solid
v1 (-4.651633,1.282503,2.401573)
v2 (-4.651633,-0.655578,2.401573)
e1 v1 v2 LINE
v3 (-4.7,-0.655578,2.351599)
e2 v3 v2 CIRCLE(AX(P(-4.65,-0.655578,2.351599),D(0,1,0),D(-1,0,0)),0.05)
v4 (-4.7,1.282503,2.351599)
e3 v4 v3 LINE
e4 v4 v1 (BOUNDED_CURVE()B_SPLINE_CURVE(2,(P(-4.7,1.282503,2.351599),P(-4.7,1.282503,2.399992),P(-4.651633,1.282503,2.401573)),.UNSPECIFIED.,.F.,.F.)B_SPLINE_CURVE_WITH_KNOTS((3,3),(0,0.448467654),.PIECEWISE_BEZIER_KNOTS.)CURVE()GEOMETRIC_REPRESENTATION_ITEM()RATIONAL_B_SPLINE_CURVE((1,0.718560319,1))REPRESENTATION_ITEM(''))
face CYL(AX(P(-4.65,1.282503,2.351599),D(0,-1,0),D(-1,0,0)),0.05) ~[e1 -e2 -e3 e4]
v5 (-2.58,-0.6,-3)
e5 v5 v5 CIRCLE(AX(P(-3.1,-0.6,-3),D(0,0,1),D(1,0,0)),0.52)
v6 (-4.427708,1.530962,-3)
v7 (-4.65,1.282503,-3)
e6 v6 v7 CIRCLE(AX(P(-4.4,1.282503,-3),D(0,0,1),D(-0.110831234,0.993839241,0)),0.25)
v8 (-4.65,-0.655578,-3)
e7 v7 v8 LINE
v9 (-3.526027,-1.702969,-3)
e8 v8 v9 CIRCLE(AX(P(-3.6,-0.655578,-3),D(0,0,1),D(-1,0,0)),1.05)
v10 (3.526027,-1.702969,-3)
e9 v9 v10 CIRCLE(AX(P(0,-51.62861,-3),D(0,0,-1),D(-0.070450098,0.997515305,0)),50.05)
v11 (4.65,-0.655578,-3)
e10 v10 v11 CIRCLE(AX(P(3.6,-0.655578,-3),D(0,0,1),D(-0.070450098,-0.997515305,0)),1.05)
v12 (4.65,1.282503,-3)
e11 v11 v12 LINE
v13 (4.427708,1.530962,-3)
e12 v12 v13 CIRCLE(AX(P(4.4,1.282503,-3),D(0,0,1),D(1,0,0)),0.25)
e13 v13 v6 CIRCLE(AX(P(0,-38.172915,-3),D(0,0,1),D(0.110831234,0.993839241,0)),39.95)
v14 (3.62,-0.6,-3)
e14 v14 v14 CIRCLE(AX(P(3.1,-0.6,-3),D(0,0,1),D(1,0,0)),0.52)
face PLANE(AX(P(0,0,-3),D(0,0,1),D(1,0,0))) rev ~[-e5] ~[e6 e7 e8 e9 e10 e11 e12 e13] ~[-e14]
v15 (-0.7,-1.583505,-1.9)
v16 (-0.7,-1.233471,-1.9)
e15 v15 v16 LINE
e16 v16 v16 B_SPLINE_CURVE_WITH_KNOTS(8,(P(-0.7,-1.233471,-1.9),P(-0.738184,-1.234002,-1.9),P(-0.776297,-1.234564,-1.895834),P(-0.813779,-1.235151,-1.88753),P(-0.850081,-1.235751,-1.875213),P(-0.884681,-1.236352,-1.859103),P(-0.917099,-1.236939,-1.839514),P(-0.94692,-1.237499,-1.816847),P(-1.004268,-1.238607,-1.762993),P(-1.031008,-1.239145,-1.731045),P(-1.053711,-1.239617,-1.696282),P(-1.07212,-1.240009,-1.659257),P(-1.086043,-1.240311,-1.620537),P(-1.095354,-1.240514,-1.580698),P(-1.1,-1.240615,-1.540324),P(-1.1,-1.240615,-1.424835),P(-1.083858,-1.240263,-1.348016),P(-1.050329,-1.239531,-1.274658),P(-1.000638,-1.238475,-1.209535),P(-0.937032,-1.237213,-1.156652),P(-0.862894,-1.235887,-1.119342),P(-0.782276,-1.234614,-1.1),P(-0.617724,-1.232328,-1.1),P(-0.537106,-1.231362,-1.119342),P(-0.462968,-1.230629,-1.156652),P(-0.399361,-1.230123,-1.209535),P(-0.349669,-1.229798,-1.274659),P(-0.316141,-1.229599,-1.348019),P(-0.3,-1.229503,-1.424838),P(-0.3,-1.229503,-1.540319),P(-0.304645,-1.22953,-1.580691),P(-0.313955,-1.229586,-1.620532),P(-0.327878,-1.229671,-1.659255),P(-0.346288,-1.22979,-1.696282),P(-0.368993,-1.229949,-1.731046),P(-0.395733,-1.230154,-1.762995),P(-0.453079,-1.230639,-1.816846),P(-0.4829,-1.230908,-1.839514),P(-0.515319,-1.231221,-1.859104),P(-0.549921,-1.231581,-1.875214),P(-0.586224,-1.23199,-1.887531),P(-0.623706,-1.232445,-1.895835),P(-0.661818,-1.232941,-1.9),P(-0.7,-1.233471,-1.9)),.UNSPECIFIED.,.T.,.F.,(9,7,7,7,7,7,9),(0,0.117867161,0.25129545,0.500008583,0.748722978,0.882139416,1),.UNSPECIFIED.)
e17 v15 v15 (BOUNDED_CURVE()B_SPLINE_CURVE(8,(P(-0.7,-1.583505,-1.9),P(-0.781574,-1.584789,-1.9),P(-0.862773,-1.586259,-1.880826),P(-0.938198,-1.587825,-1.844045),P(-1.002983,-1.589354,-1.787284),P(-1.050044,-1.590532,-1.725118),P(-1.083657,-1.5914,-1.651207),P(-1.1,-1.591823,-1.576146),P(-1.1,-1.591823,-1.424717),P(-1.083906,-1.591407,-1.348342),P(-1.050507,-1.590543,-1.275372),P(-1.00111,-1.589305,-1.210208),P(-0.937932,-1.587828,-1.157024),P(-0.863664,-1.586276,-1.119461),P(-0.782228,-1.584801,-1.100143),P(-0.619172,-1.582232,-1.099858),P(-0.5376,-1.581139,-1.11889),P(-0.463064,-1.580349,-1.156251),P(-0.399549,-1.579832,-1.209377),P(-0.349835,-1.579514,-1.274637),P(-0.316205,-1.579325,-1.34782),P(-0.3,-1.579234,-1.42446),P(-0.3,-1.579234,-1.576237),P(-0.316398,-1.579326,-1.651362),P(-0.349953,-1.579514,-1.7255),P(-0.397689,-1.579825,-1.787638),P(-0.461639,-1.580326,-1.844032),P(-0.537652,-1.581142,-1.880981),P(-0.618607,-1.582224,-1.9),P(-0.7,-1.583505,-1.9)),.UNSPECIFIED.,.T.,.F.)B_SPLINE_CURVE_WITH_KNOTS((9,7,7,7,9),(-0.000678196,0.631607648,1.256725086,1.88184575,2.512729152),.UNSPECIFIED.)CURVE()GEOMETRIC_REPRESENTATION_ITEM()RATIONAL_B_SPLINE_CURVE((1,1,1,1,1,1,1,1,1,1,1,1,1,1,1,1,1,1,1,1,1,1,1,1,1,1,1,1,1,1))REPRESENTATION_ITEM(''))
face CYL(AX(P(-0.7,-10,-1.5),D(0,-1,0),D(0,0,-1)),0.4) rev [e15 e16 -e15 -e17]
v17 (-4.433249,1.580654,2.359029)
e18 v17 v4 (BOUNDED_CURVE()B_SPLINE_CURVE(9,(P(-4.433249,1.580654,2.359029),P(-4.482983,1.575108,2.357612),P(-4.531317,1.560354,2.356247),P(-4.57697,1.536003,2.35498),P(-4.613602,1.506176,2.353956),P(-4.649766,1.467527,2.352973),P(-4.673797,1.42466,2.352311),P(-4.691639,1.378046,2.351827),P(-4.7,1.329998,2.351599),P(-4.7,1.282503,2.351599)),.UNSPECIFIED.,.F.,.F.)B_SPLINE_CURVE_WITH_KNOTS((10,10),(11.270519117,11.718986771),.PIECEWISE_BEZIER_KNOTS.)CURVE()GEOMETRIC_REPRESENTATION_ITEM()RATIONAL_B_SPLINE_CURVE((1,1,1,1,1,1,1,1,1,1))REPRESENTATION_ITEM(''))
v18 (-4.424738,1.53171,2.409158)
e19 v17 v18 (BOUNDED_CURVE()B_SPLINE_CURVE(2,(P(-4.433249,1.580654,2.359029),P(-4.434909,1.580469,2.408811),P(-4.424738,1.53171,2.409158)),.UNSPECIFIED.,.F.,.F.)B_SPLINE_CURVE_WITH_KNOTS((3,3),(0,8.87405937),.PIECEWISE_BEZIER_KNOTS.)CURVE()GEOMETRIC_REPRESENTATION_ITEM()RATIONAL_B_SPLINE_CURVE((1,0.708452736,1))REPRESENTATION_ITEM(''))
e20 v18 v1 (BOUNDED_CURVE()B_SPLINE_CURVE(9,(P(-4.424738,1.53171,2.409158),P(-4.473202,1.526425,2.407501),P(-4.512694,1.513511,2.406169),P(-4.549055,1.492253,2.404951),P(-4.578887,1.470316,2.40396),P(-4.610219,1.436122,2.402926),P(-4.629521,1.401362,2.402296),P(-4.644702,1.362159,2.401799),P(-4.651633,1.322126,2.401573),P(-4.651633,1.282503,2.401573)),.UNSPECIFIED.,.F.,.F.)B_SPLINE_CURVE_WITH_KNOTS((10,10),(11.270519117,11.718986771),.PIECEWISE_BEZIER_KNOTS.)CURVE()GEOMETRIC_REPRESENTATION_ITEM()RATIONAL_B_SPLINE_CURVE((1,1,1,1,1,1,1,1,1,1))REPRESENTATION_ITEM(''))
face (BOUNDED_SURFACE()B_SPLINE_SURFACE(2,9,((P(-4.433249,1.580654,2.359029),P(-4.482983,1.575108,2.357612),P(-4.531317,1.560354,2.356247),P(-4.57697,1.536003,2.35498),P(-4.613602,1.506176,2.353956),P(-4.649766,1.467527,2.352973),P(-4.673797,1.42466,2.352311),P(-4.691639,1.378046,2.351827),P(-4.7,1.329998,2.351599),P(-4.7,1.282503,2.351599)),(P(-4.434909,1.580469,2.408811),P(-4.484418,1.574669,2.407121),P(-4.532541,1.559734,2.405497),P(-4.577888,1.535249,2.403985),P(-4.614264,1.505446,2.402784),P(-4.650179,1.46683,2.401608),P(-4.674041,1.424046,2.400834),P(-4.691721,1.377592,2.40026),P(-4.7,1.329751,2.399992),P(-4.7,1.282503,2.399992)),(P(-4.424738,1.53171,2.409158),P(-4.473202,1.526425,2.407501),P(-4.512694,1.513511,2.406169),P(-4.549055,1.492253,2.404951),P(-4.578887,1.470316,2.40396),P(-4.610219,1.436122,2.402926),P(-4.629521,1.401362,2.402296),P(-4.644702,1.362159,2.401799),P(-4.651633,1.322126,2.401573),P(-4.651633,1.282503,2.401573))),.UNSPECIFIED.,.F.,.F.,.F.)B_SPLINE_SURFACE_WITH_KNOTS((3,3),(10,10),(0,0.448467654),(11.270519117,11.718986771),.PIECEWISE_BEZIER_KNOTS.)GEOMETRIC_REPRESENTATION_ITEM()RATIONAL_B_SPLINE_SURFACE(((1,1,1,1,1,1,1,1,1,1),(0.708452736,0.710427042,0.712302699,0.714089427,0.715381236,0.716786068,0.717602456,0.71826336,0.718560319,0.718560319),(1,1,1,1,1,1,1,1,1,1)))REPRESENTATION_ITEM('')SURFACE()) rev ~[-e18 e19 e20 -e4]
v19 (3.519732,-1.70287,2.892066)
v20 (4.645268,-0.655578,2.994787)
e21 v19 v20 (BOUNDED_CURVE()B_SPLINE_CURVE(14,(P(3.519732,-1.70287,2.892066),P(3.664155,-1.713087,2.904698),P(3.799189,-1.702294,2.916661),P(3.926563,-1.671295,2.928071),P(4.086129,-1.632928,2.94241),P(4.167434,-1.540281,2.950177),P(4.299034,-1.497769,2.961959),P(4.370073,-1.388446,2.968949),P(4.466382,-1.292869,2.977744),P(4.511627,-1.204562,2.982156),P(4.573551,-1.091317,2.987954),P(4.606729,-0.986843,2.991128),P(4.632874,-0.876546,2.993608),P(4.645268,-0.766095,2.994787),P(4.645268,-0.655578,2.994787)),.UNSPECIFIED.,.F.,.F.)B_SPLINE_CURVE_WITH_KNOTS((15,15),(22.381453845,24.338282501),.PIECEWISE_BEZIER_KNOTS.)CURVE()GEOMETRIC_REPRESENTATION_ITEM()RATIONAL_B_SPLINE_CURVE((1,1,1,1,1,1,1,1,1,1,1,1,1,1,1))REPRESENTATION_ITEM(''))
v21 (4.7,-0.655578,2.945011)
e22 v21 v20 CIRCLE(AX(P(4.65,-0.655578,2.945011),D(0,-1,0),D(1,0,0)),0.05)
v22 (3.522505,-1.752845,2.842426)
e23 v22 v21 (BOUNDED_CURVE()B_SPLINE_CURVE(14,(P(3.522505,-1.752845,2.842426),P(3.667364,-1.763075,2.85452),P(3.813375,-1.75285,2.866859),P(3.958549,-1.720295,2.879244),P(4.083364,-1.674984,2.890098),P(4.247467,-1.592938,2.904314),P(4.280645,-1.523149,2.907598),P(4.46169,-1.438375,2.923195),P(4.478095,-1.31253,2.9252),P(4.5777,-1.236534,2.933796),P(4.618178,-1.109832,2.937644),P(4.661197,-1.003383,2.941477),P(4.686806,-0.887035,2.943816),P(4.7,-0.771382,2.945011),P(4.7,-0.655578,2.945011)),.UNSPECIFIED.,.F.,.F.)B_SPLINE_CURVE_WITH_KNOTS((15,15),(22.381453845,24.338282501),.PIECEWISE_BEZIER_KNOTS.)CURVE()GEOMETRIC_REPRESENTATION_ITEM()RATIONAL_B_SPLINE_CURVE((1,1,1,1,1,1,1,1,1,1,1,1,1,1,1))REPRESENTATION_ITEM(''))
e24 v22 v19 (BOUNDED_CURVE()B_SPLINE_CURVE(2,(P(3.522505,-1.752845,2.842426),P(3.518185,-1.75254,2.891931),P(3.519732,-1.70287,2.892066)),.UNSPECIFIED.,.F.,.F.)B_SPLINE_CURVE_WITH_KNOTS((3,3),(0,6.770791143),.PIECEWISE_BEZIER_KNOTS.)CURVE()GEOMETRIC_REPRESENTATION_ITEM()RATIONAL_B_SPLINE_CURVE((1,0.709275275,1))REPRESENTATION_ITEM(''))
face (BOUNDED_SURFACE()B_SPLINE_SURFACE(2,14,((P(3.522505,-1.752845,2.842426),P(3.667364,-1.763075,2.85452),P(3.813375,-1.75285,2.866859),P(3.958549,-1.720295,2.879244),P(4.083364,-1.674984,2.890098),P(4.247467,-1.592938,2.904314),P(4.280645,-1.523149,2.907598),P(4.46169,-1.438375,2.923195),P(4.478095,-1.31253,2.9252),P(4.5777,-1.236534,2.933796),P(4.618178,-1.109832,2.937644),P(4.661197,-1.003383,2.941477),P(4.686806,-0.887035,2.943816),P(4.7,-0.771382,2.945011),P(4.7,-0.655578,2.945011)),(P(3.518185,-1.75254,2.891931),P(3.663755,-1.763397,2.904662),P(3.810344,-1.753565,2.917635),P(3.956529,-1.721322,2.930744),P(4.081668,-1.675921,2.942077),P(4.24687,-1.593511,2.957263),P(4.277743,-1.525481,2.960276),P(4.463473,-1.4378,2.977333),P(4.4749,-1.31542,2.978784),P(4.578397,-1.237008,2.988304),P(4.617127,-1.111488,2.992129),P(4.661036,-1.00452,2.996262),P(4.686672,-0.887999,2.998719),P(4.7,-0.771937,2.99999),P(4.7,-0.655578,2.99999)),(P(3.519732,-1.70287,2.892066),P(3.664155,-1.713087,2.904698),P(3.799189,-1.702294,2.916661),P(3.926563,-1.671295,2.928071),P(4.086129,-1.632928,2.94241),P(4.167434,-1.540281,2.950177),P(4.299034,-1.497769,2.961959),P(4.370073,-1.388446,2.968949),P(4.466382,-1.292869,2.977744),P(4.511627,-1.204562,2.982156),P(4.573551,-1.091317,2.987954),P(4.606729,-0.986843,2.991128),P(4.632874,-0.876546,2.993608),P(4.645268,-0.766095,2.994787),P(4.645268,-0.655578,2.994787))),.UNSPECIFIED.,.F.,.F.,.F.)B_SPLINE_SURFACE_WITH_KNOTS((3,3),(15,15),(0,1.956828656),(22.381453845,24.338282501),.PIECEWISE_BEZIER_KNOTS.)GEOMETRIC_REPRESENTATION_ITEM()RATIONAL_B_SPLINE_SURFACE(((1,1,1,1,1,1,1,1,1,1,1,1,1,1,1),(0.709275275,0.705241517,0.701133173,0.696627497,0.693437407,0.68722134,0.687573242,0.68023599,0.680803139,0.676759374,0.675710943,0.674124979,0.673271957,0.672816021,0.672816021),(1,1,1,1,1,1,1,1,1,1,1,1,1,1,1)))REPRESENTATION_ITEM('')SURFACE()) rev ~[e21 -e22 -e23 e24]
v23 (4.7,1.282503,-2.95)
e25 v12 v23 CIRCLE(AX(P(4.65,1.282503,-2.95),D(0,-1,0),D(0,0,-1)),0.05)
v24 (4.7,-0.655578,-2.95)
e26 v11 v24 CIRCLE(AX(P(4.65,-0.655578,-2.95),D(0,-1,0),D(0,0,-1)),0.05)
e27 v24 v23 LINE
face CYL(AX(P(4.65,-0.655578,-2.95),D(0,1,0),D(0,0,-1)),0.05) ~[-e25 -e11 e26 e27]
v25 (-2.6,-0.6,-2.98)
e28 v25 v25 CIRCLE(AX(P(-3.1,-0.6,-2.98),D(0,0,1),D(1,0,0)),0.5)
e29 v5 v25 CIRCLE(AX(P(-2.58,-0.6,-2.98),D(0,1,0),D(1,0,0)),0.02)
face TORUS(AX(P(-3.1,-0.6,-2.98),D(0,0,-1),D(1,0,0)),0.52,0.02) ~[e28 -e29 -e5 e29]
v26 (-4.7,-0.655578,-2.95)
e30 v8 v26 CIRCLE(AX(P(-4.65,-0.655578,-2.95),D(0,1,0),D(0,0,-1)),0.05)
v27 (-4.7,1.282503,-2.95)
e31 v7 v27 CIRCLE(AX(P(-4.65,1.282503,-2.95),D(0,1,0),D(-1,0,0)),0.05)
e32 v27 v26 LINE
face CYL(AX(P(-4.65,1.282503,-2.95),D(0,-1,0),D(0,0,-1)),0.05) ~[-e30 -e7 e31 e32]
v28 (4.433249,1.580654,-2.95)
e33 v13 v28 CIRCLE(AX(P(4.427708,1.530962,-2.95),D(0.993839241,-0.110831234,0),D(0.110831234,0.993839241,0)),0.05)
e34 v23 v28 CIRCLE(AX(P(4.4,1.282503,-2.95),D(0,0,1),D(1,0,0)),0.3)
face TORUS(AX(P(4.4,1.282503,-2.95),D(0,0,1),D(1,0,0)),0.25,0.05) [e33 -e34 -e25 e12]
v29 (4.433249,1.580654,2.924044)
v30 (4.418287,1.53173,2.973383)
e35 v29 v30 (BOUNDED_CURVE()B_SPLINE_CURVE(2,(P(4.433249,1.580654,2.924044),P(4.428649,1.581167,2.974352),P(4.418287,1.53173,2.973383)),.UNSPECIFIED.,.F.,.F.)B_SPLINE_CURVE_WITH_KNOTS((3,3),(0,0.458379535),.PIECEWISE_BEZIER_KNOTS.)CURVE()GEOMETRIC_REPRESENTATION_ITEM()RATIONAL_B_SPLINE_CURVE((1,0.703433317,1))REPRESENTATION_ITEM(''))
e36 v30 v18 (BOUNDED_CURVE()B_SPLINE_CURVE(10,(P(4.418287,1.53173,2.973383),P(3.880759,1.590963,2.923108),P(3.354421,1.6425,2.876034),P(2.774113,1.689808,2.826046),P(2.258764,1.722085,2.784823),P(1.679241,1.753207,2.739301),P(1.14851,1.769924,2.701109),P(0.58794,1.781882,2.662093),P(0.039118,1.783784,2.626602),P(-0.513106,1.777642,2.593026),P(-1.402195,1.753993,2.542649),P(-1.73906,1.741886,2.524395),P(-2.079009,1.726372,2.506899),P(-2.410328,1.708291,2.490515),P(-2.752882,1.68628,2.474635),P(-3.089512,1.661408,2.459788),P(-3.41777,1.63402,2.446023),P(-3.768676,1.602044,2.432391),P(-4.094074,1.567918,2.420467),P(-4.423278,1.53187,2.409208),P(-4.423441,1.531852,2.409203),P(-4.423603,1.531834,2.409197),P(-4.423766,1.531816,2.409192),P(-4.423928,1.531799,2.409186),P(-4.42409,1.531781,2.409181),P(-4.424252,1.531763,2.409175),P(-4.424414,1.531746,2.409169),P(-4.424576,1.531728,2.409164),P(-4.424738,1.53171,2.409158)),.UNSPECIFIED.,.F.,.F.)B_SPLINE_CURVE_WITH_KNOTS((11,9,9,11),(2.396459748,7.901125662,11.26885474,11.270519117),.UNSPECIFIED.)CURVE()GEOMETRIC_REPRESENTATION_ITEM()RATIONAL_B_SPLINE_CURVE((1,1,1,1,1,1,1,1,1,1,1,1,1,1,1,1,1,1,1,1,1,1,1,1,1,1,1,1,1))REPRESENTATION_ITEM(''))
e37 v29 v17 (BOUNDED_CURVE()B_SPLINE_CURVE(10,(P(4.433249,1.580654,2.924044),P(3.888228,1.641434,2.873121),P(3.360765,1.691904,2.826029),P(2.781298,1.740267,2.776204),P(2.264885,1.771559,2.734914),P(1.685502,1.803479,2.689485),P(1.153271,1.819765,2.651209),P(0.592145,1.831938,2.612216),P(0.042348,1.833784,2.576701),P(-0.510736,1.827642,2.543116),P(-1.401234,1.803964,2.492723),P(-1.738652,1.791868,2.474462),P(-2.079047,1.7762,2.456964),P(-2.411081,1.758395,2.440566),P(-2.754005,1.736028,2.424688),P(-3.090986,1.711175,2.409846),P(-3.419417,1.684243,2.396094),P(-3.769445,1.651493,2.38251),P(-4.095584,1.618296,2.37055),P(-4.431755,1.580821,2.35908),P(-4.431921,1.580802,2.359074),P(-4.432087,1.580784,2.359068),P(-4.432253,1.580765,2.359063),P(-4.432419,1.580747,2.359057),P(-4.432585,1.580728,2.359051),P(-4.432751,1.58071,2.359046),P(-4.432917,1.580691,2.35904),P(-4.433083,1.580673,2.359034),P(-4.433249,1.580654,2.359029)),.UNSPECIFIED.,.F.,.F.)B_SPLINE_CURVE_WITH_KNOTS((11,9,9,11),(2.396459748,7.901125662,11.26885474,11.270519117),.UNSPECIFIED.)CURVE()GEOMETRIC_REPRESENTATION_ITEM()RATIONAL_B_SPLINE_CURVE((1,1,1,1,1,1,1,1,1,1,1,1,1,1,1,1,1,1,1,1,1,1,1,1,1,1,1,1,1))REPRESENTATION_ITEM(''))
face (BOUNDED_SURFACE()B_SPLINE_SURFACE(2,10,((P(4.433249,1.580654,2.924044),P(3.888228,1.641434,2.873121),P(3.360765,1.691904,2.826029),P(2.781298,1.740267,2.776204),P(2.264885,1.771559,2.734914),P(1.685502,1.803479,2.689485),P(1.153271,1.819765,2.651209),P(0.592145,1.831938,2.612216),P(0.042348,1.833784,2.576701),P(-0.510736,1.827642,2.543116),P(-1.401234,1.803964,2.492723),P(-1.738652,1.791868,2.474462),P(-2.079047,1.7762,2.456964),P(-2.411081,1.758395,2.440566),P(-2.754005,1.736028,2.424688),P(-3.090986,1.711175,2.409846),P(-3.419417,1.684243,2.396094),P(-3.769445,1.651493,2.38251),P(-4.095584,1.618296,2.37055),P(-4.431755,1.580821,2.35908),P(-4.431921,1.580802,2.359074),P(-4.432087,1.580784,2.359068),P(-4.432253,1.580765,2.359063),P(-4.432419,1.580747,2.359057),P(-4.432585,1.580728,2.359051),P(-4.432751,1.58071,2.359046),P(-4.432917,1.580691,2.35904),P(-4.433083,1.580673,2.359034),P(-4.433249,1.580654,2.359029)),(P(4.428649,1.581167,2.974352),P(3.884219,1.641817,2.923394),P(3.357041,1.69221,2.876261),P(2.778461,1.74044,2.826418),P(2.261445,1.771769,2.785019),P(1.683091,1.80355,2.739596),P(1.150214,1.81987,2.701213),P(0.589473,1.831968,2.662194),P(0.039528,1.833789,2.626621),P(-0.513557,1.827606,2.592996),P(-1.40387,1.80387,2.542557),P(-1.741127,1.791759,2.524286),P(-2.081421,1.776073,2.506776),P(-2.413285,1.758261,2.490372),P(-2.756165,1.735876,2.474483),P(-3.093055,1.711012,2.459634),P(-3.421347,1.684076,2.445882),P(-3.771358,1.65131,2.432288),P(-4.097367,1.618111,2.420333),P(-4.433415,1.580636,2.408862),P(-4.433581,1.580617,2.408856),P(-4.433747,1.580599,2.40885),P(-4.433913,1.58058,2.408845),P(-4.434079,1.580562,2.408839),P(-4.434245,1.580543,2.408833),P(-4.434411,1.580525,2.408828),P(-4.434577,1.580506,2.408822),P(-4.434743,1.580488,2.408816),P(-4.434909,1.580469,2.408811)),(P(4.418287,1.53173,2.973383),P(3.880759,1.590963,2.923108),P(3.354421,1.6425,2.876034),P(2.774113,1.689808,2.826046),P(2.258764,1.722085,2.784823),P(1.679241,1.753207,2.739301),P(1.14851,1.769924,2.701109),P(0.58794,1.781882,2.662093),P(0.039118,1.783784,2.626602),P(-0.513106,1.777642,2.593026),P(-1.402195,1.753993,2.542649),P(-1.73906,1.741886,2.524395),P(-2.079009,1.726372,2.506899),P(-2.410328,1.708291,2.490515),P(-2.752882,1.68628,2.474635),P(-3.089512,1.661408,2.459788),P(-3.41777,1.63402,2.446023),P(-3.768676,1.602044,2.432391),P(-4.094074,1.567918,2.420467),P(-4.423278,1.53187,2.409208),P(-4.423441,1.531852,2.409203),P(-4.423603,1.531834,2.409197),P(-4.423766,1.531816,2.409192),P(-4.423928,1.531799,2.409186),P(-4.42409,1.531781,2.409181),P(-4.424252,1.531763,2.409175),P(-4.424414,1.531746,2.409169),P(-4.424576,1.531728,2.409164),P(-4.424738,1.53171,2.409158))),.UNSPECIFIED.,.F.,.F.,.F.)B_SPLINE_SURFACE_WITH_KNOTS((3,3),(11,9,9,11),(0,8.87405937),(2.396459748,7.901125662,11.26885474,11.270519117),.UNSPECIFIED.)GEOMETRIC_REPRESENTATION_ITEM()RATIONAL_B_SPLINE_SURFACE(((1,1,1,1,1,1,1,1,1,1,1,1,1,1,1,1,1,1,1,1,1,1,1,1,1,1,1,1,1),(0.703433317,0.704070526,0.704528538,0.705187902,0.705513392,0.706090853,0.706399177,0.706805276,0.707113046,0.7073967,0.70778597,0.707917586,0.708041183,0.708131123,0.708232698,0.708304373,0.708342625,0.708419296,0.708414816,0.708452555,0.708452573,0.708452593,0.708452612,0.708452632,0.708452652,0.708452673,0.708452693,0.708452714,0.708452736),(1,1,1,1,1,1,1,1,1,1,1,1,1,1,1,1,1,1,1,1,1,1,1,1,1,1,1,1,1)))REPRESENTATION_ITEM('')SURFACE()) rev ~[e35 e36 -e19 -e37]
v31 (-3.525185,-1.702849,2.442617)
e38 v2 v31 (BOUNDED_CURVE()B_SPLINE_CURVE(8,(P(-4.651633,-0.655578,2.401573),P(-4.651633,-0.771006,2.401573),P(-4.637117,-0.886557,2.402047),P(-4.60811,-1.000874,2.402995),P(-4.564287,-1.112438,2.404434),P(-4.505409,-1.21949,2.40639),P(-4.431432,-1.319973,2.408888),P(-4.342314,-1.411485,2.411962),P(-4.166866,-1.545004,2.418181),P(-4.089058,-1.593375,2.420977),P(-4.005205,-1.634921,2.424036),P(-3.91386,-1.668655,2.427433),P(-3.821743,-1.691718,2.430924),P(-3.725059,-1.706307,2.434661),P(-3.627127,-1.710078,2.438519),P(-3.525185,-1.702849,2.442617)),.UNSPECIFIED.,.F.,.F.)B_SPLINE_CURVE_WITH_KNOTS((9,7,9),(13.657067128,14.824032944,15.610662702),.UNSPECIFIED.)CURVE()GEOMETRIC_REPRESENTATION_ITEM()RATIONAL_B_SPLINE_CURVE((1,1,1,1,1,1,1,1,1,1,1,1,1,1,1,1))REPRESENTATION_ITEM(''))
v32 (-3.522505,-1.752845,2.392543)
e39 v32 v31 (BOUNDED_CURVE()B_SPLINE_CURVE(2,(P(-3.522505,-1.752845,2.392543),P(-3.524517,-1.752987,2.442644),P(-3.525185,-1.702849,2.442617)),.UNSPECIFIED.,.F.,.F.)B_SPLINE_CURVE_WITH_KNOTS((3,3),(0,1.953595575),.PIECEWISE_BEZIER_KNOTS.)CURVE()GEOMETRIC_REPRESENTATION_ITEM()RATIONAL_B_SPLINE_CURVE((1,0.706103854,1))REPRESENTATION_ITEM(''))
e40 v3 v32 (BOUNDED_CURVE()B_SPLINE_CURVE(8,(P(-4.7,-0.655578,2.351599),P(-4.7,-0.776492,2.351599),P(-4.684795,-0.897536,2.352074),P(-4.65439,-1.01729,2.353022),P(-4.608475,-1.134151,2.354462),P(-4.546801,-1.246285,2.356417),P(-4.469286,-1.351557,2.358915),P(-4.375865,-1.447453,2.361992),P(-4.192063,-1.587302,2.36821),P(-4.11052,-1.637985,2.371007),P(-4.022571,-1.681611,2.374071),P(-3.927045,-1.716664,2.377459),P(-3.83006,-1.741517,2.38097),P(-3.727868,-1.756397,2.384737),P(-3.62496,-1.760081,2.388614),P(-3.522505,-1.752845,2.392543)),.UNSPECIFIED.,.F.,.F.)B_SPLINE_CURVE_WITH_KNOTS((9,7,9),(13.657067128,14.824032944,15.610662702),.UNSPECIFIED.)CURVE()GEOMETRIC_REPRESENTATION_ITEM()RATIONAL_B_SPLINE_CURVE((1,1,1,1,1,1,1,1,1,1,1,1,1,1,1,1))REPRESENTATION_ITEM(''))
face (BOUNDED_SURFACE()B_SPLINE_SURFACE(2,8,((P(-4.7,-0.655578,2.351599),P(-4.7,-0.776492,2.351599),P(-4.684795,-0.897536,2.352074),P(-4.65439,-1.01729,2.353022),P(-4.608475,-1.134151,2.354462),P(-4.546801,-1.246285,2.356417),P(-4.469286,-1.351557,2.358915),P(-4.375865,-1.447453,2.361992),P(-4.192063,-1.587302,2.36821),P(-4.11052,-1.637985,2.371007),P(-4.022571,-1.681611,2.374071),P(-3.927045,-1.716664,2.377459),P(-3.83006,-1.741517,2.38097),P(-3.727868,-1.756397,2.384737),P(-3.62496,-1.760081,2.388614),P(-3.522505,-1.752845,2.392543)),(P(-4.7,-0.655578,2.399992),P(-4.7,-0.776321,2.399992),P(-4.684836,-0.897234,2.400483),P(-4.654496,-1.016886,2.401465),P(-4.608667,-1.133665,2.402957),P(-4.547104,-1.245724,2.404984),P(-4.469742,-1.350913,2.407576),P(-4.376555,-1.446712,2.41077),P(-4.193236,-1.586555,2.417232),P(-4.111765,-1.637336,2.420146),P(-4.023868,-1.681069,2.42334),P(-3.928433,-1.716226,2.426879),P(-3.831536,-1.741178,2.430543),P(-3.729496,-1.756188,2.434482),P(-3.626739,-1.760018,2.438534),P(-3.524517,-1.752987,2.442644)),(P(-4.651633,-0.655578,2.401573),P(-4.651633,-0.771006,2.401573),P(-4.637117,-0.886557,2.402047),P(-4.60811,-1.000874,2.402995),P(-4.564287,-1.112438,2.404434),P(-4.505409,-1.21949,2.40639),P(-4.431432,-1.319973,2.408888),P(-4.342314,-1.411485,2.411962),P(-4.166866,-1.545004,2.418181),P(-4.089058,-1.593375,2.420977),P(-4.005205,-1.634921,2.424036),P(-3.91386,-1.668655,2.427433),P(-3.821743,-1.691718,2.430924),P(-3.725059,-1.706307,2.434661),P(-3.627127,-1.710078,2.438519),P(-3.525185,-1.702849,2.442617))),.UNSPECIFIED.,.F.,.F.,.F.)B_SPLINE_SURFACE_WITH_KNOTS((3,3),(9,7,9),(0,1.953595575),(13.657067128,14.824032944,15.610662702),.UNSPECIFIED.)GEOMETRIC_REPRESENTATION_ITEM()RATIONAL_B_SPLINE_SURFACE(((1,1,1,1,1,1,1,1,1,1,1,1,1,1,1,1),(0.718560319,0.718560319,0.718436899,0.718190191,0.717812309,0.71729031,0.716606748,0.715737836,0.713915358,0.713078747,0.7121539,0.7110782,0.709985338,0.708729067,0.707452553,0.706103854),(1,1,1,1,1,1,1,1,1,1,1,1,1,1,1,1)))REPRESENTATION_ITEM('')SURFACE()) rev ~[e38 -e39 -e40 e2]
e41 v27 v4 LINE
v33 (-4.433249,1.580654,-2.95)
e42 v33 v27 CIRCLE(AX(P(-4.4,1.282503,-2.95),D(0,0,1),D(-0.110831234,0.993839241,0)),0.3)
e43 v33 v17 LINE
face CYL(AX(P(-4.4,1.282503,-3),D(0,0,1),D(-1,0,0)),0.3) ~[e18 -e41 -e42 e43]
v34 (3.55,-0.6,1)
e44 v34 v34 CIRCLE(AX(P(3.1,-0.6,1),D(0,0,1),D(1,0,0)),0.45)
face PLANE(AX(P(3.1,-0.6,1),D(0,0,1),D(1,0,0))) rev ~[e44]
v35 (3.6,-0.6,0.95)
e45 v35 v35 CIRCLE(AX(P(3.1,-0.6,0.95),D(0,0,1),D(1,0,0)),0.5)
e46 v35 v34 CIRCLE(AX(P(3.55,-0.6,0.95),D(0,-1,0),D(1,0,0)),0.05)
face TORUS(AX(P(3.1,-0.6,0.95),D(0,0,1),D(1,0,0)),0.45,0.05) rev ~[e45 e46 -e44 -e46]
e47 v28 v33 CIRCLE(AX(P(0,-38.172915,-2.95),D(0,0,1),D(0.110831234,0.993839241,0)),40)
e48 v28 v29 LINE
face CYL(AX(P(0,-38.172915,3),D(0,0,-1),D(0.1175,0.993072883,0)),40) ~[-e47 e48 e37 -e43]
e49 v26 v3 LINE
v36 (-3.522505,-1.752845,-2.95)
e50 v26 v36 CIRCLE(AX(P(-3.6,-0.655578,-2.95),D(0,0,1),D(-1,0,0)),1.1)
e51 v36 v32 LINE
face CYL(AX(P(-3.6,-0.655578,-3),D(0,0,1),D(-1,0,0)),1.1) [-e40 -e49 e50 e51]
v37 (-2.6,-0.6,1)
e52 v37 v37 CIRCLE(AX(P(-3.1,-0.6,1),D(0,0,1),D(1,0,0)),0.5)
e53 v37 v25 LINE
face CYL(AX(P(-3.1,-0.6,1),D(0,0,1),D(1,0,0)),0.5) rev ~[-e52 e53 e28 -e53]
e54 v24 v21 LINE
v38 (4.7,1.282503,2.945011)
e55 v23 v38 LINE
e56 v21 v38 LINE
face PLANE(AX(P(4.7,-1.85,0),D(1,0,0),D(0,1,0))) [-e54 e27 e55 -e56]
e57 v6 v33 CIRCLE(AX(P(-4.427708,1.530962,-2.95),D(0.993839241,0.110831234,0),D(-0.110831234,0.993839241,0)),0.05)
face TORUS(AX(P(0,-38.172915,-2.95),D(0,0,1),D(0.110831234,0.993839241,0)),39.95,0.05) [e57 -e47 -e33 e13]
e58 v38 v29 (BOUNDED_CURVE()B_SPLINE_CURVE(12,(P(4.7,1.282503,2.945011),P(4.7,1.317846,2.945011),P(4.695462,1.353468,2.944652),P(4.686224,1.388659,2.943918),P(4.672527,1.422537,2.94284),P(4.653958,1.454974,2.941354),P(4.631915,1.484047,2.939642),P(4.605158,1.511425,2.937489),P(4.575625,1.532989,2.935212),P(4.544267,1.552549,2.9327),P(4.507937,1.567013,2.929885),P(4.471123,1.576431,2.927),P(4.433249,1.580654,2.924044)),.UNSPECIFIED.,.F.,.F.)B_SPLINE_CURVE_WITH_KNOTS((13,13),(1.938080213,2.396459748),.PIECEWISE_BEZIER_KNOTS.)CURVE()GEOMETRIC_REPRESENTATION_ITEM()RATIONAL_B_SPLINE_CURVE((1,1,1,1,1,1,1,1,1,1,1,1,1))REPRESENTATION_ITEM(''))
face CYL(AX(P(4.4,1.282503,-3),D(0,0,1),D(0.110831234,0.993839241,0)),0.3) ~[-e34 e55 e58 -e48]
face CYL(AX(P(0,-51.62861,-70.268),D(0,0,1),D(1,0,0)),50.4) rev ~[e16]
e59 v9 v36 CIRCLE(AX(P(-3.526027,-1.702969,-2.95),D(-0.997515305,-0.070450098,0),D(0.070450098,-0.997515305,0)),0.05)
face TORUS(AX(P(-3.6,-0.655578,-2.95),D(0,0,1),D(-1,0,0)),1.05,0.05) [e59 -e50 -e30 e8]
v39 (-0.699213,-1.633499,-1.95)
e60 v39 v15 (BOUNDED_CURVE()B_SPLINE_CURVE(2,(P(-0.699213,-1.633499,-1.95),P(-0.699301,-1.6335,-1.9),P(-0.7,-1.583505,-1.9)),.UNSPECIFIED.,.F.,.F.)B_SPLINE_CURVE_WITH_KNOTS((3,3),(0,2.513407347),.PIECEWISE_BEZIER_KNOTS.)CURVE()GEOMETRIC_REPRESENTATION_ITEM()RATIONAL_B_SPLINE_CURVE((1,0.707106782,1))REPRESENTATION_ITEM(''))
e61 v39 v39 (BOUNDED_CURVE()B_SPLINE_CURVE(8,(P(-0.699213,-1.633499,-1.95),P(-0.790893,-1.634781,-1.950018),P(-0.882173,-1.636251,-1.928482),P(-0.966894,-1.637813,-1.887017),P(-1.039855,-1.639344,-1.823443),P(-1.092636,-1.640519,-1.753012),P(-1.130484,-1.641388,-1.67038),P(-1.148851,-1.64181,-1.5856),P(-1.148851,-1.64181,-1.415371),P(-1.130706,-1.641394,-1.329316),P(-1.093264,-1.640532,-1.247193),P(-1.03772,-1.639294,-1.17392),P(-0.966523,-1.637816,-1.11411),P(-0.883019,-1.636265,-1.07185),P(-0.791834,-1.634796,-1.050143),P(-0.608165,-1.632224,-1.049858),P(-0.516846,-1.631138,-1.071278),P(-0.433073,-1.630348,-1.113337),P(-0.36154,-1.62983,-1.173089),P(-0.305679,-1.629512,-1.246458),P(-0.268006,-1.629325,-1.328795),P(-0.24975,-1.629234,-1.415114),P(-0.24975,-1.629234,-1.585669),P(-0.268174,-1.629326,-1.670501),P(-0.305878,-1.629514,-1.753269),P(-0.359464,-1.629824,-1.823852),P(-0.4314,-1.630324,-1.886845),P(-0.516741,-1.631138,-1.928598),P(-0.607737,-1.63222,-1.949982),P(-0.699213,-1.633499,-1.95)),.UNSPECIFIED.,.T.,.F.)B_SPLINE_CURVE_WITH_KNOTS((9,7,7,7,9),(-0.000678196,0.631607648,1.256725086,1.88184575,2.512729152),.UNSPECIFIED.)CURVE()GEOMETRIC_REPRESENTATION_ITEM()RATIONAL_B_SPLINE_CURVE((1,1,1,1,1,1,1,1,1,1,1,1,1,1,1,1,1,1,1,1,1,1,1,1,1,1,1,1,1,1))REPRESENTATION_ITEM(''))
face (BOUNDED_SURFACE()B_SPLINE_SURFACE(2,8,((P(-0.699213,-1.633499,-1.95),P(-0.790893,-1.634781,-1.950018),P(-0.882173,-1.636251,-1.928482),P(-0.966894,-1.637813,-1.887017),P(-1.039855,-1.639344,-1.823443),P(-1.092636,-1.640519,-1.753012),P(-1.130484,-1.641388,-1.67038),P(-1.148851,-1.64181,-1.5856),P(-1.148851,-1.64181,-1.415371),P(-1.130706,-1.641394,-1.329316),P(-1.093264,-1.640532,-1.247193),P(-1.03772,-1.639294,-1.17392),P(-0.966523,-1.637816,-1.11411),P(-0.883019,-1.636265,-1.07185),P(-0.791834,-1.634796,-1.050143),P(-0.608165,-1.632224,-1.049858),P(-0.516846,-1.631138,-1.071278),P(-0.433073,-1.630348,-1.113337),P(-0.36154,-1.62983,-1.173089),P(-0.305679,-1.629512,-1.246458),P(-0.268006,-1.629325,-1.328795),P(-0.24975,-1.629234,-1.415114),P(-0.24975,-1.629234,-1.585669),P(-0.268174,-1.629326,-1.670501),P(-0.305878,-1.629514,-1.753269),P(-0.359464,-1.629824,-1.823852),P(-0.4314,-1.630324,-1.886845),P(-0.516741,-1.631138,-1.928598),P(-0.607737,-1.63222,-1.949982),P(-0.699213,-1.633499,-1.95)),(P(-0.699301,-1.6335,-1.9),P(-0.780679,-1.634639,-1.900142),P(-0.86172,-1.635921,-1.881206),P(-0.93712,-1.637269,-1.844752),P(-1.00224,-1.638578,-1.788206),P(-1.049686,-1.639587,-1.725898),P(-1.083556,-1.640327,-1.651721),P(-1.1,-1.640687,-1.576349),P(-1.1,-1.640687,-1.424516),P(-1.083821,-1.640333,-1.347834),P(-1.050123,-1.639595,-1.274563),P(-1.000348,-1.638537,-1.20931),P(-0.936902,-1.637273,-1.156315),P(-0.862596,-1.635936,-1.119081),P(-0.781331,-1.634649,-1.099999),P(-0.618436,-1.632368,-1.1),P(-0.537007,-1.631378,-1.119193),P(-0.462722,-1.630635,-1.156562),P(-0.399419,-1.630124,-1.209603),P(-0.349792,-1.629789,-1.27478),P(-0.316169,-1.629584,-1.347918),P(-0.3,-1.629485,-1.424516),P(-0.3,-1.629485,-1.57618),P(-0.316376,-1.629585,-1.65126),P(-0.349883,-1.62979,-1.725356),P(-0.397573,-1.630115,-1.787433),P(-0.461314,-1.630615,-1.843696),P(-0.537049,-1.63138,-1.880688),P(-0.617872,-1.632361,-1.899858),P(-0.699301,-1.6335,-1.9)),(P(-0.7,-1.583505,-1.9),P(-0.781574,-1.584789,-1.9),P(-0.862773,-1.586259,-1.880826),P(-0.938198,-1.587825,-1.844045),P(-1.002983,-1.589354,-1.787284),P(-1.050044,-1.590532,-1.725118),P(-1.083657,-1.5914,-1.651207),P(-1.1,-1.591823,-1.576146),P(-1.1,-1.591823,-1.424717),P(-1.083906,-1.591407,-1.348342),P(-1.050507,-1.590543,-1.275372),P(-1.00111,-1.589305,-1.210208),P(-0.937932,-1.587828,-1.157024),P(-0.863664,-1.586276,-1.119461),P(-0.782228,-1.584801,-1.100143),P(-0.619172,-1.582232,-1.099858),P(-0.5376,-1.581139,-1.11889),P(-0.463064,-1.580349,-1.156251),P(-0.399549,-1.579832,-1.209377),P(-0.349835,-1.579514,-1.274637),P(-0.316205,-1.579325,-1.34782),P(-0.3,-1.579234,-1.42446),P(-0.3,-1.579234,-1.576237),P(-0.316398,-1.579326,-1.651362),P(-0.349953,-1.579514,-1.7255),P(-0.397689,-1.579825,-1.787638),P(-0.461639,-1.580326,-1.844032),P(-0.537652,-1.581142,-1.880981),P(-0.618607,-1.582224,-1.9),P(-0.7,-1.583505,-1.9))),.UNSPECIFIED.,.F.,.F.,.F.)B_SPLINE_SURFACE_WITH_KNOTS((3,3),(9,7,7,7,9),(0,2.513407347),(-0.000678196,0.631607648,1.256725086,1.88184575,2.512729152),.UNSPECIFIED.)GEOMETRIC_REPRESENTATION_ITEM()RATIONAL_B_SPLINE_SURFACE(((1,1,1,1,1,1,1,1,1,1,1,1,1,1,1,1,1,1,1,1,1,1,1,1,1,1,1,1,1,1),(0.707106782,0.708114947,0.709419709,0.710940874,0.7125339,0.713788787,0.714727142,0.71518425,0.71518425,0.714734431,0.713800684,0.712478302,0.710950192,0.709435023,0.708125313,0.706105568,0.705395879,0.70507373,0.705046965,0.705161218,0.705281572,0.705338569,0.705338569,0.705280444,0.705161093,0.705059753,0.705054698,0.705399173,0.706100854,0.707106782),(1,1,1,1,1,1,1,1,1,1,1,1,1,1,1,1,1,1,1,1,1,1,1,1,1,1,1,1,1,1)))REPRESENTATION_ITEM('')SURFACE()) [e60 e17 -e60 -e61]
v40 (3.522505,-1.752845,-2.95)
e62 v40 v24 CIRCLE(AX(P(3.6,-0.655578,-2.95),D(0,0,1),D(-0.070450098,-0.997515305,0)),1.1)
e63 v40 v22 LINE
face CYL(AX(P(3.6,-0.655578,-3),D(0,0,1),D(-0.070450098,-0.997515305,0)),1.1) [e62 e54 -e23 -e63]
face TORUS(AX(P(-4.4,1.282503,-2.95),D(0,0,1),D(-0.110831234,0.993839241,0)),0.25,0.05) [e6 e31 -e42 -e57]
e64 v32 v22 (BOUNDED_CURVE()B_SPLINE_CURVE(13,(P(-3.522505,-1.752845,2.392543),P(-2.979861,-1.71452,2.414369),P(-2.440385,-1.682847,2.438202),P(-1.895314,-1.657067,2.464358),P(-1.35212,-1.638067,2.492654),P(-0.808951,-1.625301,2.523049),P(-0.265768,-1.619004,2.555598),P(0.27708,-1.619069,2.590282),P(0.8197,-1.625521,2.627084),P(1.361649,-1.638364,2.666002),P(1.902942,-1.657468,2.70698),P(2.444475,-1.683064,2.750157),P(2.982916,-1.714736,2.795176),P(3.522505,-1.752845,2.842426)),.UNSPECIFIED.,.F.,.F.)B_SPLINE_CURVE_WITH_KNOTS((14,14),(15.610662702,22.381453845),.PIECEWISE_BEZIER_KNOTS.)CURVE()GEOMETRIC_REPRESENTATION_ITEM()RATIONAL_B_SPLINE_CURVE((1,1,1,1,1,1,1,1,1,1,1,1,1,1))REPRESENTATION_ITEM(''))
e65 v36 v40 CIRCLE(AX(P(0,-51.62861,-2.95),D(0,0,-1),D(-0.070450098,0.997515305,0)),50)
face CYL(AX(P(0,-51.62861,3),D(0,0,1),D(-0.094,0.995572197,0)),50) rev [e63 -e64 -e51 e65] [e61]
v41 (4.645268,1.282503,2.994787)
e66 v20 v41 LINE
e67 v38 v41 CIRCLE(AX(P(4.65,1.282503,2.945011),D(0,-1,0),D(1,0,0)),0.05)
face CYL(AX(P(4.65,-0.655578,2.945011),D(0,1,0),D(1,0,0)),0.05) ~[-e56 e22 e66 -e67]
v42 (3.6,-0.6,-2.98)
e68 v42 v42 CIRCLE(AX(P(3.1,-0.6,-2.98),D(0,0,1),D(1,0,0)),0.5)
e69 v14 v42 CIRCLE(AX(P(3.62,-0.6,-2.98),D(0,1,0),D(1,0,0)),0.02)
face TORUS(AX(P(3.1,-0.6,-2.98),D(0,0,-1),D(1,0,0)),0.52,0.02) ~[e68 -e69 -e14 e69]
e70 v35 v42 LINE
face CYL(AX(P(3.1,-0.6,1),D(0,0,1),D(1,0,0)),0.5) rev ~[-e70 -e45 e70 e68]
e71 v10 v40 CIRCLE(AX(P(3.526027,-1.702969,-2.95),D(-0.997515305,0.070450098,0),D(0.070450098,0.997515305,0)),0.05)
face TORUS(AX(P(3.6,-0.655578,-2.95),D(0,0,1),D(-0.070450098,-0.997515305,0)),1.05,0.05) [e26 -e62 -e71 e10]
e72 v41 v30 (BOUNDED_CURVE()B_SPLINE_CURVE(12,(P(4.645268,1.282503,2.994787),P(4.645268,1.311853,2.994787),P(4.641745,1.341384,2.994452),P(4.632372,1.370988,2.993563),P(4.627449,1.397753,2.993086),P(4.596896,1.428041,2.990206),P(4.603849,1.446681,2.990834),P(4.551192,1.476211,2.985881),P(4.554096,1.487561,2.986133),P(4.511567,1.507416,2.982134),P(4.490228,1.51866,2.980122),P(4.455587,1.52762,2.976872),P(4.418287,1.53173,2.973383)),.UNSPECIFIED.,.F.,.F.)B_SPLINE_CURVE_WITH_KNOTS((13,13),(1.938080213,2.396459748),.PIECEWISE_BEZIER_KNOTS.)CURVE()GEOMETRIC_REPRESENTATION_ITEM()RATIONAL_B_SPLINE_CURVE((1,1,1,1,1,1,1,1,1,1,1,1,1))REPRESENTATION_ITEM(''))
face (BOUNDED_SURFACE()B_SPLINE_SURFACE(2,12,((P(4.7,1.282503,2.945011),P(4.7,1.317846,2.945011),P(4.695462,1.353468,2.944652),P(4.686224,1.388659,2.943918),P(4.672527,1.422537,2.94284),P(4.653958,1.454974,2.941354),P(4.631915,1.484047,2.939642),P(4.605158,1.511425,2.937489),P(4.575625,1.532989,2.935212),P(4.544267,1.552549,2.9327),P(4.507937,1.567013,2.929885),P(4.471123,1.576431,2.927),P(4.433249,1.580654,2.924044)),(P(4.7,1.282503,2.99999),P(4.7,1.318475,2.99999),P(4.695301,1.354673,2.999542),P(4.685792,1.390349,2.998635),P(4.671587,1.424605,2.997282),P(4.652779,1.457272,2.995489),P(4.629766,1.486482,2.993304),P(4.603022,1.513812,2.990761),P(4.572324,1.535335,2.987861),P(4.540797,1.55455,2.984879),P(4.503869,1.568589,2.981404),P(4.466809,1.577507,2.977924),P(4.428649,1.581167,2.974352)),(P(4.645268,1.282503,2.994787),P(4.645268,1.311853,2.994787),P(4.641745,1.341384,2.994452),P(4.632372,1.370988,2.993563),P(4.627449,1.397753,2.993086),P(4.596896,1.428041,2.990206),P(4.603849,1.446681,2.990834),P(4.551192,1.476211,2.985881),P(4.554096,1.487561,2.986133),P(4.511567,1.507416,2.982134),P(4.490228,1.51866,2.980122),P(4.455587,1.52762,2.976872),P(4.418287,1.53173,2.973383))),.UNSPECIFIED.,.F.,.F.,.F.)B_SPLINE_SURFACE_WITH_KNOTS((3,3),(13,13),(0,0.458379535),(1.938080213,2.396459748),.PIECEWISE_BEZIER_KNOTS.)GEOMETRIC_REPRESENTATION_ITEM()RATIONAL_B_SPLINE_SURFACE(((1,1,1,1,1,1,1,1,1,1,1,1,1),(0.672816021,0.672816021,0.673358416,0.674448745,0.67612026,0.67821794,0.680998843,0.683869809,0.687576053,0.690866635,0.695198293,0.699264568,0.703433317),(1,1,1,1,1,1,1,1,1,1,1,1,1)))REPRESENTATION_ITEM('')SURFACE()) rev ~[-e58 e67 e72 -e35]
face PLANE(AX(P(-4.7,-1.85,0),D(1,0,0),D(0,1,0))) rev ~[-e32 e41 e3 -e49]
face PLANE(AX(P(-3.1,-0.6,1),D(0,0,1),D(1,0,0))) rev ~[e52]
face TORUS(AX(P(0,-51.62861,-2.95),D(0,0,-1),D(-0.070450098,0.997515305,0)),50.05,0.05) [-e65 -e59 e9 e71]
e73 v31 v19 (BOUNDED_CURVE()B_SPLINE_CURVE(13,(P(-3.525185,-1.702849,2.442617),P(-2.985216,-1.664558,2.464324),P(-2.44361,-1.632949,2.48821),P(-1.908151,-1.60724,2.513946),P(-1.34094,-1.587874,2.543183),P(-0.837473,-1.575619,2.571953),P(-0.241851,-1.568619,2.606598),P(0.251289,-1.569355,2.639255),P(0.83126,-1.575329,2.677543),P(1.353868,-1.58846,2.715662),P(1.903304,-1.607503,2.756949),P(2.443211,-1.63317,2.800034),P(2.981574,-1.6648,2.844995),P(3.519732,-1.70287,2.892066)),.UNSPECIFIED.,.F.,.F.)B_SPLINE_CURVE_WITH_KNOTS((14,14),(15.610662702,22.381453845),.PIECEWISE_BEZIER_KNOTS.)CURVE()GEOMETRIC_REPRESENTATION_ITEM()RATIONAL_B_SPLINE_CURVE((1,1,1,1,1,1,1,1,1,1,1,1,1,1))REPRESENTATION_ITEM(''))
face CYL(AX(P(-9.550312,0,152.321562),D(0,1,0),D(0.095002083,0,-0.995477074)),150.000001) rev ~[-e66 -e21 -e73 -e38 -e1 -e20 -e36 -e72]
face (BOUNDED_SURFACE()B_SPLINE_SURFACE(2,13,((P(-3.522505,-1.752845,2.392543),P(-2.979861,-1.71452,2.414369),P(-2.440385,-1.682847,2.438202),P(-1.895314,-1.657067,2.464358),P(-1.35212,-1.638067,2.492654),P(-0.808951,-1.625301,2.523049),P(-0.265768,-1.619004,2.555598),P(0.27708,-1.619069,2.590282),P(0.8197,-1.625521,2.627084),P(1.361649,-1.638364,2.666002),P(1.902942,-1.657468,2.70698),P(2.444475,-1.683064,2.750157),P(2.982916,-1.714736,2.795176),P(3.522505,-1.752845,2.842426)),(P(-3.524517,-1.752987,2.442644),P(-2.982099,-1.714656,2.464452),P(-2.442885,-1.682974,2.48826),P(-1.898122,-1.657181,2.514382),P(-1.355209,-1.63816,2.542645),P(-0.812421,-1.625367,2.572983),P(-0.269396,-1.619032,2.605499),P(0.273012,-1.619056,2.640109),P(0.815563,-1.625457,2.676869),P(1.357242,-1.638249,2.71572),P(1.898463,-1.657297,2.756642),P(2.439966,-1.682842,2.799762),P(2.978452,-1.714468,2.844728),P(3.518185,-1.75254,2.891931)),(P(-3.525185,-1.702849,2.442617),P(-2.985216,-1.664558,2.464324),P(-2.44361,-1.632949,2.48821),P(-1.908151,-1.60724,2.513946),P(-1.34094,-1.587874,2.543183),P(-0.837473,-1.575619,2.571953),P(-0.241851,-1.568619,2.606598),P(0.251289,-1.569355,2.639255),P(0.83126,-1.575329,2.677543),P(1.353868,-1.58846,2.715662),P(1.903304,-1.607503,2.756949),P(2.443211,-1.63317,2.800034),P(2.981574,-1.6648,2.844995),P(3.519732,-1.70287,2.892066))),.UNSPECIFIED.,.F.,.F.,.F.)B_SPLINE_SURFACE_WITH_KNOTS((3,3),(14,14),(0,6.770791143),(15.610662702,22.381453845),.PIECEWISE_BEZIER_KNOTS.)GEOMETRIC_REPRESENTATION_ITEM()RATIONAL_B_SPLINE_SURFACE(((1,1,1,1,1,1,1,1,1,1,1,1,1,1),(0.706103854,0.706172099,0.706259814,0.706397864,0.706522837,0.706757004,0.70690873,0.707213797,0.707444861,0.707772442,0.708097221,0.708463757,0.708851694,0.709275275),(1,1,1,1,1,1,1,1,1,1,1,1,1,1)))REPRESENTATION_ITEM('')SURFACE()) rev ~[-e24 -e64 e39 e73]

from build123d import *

# Parameters (mm, degrees)
SKETCH1_W               = 9.4
SKETCH1_H               = 3.7
BOSS_EXTRUDE1_DEPTH     = 3
CUT_EXTRUDE1_DEPTH      = 7.8
FILLET1_R               = 1.1
FILLET2_R               = 0.3
CUT_EXTRUDE2_START      = -2
SKETCH3_R               = 0.5
CUT_EXTRUDE2_DEPTH      = 13
FILLET4_R               = 0.02
CUT_EXTRUDE3_DEPTH      = 5
FILLET5_R               = 0.05
CUT_EXTRUDE4_REACH      = 17.868
CUT_EXTRUDE4_END_RADIUS = 50.4
CUT_EXTRUDE4_START      = -10
SKETCH5_R               = 0.4
FILLET6_R               = 0.05


with BuildPart() as part:
    # Sketch1 → Boss-Extrude1 (new, symmetric)
    with BuildSketch(Plane.XY):
        Rectangle(SKETCH1_W, SKETCH1_H)
    extrude(amount=BOSS_EXTRUDE1_DEPTH, both=True)

    # Sketch2 → Cut-Extrude1 (cut, symmetric)
    with BuildSketch(Plane.XY.offset(3)):
        with BuildLine():
            Line((-4.7, 1.55), (-7.120690005, 4.011417256))
            Line((-7.120690005, 4.011417256), (5.535860742, 3.886722174))
            Line((5.535860742, 3.886722174), (4.7, 1.55))
            ThreePointArc((4.7, 1.55), (0, 1.827084699), (-4.7, 1.55))
        make_face()
        with BuildLine():
            Line((4.7, -1.85), (0.350623614, -3.782025322))
            Line((0.350623614, -3.782025322), (-4.7, -1.85))
            ThreePointArc((-4.7, -1.85), (0, -1.628609864), (4.7, -1.85))
        make_face()
    extrude(amount=CUT_EXTRUDE1_DEPTH, both=True, mode=Mode.SUBTRACT)

    # Fillet1
    fillet1_edges = [part.edges().sort_by_distance(p)[0] for p in [
        (4.7, -1.85, 0),
        (-4.7, -1.85, 0),
    ]]
    fillet(fillet1_edges, radius=FILLET1_R)

    # Fillet2
    fillet2_edges = [part.edges().sort_by_distance(p)[0] for p in [
        (4.7, 1.55, 0),
        (-4.7, 1.55, 0),
    ]]
    fillet(fillet2_edges, radius=FILLET2_R)

    # Sketch3 → Cut-Extrude2 (cut)
    with BuildSketch(Plane.XY.offset(3).offset(CUT_EXTRUDE2_START)):
        with Locations((3.1, -0.6)):
            Circle(SKETCH3_R)
        with Locations((-3.1, -0.6)):
            Circle(SKETCH3_R)
    extrude(amount=-CUT_EXTRUDE2_DEPTH, mode=Mode.SUBTRACT)

    # Fillet4
    fillet4_edges = [part.edges().sort_by_distance(p)[0] for p in [
        (2.6, -0.6, -3),
        (-3.6, -0.6, -3),
    ]]
    fillet(fillet4_edges, radius=FILLET4_R)

    # Sketch4 → Cut-Extrude3 (cut, symmetric)
    with BuildSketch(Plane(origin=(0, 0, 0), x_dir=(1, 0, 0), z_dir=(0, 1, 0))):
        with BuildLine():
            Line((6.420677859, -4.774089961), (4.7, -3))
            ThreePointArc((4.7, -3), (0.004710726, -2.626198627), (-4.7, -2.4))
            Line((-4.7, -2.4), (-6.612719149, -3.913907535))
            Line((-6.612719149, -3.913907535), (6.420677859, -4.774089961))
        make_face()
    extrude(amount=CUT_EXTRUDE3_DEPTH, both=True, mode=Mode.SUBTRACT)

    # Fillet5
    fillet5_edges = [part.edges().sort_by_distance(p)[0] for p in [
        (4.7, 0.3134624, -3),
        (4.7, 0.3134624, 3),
        (0, -1.628609864, -3),
        (-4.349918456, -1.460327621, -3),
        (4.349918456, -1.460327621, -3),
        (0, 1.827084699, -3),
        (-4.7, 0.3134624, -3),
        (-4.623578634, 1.482534062, -3),
        (4.623578634, 1.482534062, -3),
        (2.6, -0.6, 1),
        (-4.623553452, 1.482562201, 2.402492735),
        (4.349071601, -1.461115946, 2.966925627),
        (-4.349757648, -1.460477444, 2.41174073),
        (4.623384041, 1.482751345, 2.992708087),
        (0.002641899, -1.628609931, 2.626066603),
        (-4.7, 0.3134624, 2.4),
        (0.004177998, 1.827084481, 2.626164624),
    ]]
    fillet(fillet5_edges, radius=FILLET5_R)

    # Cut-Extrude4: up to this cylinder (the profile starts inside it)
    cut_extrude4_end = Plane(origin=(0, -51.628609864, -1.5), z_dir=(0, 0, 1)) * Cylinder(CUT_EXTRUDE4_END_RADIUS, 137.536, mode=Mode.PRIVATE)
    # Sketch5 → Cut-Extrude4 (cut, up to the surface)
    with BuildSketch(Plane(origin=(0, 0, 0), x_dir=(1, 0, 0), z_dir=(0, 1, 0)).offset(CUT_EXTRUDE4_START), mode=Mode.PRIVATE) as cut_extrude4_sk1:
        with Locations(Location((-0.7, 1.5, 0), (0, 0, 90))):
            Circle(SKETCH5_R)
    cut_extrude4_tool1 = extrude(cut_extrude4_sk1.sketch, amount=CUT_EXTRUDE4_REACH, mode=Mode.PRIVATE) & cut_extrude4_end
    add(cut_extrude4_tool1.solids().sort_by_distance((-0.7, -10, -1.5))[0], mode=Mode.SUBTRACT)

    # Fillet6
    fillet6_edges = [part.edges().sort_by_distance(p)[0] for p in [
        (-0.700029875, -1.633510522, -1.100000001),
    ]]
    fillet(fillet6_edges, radius=FILLET6_R)


solid = part.part
